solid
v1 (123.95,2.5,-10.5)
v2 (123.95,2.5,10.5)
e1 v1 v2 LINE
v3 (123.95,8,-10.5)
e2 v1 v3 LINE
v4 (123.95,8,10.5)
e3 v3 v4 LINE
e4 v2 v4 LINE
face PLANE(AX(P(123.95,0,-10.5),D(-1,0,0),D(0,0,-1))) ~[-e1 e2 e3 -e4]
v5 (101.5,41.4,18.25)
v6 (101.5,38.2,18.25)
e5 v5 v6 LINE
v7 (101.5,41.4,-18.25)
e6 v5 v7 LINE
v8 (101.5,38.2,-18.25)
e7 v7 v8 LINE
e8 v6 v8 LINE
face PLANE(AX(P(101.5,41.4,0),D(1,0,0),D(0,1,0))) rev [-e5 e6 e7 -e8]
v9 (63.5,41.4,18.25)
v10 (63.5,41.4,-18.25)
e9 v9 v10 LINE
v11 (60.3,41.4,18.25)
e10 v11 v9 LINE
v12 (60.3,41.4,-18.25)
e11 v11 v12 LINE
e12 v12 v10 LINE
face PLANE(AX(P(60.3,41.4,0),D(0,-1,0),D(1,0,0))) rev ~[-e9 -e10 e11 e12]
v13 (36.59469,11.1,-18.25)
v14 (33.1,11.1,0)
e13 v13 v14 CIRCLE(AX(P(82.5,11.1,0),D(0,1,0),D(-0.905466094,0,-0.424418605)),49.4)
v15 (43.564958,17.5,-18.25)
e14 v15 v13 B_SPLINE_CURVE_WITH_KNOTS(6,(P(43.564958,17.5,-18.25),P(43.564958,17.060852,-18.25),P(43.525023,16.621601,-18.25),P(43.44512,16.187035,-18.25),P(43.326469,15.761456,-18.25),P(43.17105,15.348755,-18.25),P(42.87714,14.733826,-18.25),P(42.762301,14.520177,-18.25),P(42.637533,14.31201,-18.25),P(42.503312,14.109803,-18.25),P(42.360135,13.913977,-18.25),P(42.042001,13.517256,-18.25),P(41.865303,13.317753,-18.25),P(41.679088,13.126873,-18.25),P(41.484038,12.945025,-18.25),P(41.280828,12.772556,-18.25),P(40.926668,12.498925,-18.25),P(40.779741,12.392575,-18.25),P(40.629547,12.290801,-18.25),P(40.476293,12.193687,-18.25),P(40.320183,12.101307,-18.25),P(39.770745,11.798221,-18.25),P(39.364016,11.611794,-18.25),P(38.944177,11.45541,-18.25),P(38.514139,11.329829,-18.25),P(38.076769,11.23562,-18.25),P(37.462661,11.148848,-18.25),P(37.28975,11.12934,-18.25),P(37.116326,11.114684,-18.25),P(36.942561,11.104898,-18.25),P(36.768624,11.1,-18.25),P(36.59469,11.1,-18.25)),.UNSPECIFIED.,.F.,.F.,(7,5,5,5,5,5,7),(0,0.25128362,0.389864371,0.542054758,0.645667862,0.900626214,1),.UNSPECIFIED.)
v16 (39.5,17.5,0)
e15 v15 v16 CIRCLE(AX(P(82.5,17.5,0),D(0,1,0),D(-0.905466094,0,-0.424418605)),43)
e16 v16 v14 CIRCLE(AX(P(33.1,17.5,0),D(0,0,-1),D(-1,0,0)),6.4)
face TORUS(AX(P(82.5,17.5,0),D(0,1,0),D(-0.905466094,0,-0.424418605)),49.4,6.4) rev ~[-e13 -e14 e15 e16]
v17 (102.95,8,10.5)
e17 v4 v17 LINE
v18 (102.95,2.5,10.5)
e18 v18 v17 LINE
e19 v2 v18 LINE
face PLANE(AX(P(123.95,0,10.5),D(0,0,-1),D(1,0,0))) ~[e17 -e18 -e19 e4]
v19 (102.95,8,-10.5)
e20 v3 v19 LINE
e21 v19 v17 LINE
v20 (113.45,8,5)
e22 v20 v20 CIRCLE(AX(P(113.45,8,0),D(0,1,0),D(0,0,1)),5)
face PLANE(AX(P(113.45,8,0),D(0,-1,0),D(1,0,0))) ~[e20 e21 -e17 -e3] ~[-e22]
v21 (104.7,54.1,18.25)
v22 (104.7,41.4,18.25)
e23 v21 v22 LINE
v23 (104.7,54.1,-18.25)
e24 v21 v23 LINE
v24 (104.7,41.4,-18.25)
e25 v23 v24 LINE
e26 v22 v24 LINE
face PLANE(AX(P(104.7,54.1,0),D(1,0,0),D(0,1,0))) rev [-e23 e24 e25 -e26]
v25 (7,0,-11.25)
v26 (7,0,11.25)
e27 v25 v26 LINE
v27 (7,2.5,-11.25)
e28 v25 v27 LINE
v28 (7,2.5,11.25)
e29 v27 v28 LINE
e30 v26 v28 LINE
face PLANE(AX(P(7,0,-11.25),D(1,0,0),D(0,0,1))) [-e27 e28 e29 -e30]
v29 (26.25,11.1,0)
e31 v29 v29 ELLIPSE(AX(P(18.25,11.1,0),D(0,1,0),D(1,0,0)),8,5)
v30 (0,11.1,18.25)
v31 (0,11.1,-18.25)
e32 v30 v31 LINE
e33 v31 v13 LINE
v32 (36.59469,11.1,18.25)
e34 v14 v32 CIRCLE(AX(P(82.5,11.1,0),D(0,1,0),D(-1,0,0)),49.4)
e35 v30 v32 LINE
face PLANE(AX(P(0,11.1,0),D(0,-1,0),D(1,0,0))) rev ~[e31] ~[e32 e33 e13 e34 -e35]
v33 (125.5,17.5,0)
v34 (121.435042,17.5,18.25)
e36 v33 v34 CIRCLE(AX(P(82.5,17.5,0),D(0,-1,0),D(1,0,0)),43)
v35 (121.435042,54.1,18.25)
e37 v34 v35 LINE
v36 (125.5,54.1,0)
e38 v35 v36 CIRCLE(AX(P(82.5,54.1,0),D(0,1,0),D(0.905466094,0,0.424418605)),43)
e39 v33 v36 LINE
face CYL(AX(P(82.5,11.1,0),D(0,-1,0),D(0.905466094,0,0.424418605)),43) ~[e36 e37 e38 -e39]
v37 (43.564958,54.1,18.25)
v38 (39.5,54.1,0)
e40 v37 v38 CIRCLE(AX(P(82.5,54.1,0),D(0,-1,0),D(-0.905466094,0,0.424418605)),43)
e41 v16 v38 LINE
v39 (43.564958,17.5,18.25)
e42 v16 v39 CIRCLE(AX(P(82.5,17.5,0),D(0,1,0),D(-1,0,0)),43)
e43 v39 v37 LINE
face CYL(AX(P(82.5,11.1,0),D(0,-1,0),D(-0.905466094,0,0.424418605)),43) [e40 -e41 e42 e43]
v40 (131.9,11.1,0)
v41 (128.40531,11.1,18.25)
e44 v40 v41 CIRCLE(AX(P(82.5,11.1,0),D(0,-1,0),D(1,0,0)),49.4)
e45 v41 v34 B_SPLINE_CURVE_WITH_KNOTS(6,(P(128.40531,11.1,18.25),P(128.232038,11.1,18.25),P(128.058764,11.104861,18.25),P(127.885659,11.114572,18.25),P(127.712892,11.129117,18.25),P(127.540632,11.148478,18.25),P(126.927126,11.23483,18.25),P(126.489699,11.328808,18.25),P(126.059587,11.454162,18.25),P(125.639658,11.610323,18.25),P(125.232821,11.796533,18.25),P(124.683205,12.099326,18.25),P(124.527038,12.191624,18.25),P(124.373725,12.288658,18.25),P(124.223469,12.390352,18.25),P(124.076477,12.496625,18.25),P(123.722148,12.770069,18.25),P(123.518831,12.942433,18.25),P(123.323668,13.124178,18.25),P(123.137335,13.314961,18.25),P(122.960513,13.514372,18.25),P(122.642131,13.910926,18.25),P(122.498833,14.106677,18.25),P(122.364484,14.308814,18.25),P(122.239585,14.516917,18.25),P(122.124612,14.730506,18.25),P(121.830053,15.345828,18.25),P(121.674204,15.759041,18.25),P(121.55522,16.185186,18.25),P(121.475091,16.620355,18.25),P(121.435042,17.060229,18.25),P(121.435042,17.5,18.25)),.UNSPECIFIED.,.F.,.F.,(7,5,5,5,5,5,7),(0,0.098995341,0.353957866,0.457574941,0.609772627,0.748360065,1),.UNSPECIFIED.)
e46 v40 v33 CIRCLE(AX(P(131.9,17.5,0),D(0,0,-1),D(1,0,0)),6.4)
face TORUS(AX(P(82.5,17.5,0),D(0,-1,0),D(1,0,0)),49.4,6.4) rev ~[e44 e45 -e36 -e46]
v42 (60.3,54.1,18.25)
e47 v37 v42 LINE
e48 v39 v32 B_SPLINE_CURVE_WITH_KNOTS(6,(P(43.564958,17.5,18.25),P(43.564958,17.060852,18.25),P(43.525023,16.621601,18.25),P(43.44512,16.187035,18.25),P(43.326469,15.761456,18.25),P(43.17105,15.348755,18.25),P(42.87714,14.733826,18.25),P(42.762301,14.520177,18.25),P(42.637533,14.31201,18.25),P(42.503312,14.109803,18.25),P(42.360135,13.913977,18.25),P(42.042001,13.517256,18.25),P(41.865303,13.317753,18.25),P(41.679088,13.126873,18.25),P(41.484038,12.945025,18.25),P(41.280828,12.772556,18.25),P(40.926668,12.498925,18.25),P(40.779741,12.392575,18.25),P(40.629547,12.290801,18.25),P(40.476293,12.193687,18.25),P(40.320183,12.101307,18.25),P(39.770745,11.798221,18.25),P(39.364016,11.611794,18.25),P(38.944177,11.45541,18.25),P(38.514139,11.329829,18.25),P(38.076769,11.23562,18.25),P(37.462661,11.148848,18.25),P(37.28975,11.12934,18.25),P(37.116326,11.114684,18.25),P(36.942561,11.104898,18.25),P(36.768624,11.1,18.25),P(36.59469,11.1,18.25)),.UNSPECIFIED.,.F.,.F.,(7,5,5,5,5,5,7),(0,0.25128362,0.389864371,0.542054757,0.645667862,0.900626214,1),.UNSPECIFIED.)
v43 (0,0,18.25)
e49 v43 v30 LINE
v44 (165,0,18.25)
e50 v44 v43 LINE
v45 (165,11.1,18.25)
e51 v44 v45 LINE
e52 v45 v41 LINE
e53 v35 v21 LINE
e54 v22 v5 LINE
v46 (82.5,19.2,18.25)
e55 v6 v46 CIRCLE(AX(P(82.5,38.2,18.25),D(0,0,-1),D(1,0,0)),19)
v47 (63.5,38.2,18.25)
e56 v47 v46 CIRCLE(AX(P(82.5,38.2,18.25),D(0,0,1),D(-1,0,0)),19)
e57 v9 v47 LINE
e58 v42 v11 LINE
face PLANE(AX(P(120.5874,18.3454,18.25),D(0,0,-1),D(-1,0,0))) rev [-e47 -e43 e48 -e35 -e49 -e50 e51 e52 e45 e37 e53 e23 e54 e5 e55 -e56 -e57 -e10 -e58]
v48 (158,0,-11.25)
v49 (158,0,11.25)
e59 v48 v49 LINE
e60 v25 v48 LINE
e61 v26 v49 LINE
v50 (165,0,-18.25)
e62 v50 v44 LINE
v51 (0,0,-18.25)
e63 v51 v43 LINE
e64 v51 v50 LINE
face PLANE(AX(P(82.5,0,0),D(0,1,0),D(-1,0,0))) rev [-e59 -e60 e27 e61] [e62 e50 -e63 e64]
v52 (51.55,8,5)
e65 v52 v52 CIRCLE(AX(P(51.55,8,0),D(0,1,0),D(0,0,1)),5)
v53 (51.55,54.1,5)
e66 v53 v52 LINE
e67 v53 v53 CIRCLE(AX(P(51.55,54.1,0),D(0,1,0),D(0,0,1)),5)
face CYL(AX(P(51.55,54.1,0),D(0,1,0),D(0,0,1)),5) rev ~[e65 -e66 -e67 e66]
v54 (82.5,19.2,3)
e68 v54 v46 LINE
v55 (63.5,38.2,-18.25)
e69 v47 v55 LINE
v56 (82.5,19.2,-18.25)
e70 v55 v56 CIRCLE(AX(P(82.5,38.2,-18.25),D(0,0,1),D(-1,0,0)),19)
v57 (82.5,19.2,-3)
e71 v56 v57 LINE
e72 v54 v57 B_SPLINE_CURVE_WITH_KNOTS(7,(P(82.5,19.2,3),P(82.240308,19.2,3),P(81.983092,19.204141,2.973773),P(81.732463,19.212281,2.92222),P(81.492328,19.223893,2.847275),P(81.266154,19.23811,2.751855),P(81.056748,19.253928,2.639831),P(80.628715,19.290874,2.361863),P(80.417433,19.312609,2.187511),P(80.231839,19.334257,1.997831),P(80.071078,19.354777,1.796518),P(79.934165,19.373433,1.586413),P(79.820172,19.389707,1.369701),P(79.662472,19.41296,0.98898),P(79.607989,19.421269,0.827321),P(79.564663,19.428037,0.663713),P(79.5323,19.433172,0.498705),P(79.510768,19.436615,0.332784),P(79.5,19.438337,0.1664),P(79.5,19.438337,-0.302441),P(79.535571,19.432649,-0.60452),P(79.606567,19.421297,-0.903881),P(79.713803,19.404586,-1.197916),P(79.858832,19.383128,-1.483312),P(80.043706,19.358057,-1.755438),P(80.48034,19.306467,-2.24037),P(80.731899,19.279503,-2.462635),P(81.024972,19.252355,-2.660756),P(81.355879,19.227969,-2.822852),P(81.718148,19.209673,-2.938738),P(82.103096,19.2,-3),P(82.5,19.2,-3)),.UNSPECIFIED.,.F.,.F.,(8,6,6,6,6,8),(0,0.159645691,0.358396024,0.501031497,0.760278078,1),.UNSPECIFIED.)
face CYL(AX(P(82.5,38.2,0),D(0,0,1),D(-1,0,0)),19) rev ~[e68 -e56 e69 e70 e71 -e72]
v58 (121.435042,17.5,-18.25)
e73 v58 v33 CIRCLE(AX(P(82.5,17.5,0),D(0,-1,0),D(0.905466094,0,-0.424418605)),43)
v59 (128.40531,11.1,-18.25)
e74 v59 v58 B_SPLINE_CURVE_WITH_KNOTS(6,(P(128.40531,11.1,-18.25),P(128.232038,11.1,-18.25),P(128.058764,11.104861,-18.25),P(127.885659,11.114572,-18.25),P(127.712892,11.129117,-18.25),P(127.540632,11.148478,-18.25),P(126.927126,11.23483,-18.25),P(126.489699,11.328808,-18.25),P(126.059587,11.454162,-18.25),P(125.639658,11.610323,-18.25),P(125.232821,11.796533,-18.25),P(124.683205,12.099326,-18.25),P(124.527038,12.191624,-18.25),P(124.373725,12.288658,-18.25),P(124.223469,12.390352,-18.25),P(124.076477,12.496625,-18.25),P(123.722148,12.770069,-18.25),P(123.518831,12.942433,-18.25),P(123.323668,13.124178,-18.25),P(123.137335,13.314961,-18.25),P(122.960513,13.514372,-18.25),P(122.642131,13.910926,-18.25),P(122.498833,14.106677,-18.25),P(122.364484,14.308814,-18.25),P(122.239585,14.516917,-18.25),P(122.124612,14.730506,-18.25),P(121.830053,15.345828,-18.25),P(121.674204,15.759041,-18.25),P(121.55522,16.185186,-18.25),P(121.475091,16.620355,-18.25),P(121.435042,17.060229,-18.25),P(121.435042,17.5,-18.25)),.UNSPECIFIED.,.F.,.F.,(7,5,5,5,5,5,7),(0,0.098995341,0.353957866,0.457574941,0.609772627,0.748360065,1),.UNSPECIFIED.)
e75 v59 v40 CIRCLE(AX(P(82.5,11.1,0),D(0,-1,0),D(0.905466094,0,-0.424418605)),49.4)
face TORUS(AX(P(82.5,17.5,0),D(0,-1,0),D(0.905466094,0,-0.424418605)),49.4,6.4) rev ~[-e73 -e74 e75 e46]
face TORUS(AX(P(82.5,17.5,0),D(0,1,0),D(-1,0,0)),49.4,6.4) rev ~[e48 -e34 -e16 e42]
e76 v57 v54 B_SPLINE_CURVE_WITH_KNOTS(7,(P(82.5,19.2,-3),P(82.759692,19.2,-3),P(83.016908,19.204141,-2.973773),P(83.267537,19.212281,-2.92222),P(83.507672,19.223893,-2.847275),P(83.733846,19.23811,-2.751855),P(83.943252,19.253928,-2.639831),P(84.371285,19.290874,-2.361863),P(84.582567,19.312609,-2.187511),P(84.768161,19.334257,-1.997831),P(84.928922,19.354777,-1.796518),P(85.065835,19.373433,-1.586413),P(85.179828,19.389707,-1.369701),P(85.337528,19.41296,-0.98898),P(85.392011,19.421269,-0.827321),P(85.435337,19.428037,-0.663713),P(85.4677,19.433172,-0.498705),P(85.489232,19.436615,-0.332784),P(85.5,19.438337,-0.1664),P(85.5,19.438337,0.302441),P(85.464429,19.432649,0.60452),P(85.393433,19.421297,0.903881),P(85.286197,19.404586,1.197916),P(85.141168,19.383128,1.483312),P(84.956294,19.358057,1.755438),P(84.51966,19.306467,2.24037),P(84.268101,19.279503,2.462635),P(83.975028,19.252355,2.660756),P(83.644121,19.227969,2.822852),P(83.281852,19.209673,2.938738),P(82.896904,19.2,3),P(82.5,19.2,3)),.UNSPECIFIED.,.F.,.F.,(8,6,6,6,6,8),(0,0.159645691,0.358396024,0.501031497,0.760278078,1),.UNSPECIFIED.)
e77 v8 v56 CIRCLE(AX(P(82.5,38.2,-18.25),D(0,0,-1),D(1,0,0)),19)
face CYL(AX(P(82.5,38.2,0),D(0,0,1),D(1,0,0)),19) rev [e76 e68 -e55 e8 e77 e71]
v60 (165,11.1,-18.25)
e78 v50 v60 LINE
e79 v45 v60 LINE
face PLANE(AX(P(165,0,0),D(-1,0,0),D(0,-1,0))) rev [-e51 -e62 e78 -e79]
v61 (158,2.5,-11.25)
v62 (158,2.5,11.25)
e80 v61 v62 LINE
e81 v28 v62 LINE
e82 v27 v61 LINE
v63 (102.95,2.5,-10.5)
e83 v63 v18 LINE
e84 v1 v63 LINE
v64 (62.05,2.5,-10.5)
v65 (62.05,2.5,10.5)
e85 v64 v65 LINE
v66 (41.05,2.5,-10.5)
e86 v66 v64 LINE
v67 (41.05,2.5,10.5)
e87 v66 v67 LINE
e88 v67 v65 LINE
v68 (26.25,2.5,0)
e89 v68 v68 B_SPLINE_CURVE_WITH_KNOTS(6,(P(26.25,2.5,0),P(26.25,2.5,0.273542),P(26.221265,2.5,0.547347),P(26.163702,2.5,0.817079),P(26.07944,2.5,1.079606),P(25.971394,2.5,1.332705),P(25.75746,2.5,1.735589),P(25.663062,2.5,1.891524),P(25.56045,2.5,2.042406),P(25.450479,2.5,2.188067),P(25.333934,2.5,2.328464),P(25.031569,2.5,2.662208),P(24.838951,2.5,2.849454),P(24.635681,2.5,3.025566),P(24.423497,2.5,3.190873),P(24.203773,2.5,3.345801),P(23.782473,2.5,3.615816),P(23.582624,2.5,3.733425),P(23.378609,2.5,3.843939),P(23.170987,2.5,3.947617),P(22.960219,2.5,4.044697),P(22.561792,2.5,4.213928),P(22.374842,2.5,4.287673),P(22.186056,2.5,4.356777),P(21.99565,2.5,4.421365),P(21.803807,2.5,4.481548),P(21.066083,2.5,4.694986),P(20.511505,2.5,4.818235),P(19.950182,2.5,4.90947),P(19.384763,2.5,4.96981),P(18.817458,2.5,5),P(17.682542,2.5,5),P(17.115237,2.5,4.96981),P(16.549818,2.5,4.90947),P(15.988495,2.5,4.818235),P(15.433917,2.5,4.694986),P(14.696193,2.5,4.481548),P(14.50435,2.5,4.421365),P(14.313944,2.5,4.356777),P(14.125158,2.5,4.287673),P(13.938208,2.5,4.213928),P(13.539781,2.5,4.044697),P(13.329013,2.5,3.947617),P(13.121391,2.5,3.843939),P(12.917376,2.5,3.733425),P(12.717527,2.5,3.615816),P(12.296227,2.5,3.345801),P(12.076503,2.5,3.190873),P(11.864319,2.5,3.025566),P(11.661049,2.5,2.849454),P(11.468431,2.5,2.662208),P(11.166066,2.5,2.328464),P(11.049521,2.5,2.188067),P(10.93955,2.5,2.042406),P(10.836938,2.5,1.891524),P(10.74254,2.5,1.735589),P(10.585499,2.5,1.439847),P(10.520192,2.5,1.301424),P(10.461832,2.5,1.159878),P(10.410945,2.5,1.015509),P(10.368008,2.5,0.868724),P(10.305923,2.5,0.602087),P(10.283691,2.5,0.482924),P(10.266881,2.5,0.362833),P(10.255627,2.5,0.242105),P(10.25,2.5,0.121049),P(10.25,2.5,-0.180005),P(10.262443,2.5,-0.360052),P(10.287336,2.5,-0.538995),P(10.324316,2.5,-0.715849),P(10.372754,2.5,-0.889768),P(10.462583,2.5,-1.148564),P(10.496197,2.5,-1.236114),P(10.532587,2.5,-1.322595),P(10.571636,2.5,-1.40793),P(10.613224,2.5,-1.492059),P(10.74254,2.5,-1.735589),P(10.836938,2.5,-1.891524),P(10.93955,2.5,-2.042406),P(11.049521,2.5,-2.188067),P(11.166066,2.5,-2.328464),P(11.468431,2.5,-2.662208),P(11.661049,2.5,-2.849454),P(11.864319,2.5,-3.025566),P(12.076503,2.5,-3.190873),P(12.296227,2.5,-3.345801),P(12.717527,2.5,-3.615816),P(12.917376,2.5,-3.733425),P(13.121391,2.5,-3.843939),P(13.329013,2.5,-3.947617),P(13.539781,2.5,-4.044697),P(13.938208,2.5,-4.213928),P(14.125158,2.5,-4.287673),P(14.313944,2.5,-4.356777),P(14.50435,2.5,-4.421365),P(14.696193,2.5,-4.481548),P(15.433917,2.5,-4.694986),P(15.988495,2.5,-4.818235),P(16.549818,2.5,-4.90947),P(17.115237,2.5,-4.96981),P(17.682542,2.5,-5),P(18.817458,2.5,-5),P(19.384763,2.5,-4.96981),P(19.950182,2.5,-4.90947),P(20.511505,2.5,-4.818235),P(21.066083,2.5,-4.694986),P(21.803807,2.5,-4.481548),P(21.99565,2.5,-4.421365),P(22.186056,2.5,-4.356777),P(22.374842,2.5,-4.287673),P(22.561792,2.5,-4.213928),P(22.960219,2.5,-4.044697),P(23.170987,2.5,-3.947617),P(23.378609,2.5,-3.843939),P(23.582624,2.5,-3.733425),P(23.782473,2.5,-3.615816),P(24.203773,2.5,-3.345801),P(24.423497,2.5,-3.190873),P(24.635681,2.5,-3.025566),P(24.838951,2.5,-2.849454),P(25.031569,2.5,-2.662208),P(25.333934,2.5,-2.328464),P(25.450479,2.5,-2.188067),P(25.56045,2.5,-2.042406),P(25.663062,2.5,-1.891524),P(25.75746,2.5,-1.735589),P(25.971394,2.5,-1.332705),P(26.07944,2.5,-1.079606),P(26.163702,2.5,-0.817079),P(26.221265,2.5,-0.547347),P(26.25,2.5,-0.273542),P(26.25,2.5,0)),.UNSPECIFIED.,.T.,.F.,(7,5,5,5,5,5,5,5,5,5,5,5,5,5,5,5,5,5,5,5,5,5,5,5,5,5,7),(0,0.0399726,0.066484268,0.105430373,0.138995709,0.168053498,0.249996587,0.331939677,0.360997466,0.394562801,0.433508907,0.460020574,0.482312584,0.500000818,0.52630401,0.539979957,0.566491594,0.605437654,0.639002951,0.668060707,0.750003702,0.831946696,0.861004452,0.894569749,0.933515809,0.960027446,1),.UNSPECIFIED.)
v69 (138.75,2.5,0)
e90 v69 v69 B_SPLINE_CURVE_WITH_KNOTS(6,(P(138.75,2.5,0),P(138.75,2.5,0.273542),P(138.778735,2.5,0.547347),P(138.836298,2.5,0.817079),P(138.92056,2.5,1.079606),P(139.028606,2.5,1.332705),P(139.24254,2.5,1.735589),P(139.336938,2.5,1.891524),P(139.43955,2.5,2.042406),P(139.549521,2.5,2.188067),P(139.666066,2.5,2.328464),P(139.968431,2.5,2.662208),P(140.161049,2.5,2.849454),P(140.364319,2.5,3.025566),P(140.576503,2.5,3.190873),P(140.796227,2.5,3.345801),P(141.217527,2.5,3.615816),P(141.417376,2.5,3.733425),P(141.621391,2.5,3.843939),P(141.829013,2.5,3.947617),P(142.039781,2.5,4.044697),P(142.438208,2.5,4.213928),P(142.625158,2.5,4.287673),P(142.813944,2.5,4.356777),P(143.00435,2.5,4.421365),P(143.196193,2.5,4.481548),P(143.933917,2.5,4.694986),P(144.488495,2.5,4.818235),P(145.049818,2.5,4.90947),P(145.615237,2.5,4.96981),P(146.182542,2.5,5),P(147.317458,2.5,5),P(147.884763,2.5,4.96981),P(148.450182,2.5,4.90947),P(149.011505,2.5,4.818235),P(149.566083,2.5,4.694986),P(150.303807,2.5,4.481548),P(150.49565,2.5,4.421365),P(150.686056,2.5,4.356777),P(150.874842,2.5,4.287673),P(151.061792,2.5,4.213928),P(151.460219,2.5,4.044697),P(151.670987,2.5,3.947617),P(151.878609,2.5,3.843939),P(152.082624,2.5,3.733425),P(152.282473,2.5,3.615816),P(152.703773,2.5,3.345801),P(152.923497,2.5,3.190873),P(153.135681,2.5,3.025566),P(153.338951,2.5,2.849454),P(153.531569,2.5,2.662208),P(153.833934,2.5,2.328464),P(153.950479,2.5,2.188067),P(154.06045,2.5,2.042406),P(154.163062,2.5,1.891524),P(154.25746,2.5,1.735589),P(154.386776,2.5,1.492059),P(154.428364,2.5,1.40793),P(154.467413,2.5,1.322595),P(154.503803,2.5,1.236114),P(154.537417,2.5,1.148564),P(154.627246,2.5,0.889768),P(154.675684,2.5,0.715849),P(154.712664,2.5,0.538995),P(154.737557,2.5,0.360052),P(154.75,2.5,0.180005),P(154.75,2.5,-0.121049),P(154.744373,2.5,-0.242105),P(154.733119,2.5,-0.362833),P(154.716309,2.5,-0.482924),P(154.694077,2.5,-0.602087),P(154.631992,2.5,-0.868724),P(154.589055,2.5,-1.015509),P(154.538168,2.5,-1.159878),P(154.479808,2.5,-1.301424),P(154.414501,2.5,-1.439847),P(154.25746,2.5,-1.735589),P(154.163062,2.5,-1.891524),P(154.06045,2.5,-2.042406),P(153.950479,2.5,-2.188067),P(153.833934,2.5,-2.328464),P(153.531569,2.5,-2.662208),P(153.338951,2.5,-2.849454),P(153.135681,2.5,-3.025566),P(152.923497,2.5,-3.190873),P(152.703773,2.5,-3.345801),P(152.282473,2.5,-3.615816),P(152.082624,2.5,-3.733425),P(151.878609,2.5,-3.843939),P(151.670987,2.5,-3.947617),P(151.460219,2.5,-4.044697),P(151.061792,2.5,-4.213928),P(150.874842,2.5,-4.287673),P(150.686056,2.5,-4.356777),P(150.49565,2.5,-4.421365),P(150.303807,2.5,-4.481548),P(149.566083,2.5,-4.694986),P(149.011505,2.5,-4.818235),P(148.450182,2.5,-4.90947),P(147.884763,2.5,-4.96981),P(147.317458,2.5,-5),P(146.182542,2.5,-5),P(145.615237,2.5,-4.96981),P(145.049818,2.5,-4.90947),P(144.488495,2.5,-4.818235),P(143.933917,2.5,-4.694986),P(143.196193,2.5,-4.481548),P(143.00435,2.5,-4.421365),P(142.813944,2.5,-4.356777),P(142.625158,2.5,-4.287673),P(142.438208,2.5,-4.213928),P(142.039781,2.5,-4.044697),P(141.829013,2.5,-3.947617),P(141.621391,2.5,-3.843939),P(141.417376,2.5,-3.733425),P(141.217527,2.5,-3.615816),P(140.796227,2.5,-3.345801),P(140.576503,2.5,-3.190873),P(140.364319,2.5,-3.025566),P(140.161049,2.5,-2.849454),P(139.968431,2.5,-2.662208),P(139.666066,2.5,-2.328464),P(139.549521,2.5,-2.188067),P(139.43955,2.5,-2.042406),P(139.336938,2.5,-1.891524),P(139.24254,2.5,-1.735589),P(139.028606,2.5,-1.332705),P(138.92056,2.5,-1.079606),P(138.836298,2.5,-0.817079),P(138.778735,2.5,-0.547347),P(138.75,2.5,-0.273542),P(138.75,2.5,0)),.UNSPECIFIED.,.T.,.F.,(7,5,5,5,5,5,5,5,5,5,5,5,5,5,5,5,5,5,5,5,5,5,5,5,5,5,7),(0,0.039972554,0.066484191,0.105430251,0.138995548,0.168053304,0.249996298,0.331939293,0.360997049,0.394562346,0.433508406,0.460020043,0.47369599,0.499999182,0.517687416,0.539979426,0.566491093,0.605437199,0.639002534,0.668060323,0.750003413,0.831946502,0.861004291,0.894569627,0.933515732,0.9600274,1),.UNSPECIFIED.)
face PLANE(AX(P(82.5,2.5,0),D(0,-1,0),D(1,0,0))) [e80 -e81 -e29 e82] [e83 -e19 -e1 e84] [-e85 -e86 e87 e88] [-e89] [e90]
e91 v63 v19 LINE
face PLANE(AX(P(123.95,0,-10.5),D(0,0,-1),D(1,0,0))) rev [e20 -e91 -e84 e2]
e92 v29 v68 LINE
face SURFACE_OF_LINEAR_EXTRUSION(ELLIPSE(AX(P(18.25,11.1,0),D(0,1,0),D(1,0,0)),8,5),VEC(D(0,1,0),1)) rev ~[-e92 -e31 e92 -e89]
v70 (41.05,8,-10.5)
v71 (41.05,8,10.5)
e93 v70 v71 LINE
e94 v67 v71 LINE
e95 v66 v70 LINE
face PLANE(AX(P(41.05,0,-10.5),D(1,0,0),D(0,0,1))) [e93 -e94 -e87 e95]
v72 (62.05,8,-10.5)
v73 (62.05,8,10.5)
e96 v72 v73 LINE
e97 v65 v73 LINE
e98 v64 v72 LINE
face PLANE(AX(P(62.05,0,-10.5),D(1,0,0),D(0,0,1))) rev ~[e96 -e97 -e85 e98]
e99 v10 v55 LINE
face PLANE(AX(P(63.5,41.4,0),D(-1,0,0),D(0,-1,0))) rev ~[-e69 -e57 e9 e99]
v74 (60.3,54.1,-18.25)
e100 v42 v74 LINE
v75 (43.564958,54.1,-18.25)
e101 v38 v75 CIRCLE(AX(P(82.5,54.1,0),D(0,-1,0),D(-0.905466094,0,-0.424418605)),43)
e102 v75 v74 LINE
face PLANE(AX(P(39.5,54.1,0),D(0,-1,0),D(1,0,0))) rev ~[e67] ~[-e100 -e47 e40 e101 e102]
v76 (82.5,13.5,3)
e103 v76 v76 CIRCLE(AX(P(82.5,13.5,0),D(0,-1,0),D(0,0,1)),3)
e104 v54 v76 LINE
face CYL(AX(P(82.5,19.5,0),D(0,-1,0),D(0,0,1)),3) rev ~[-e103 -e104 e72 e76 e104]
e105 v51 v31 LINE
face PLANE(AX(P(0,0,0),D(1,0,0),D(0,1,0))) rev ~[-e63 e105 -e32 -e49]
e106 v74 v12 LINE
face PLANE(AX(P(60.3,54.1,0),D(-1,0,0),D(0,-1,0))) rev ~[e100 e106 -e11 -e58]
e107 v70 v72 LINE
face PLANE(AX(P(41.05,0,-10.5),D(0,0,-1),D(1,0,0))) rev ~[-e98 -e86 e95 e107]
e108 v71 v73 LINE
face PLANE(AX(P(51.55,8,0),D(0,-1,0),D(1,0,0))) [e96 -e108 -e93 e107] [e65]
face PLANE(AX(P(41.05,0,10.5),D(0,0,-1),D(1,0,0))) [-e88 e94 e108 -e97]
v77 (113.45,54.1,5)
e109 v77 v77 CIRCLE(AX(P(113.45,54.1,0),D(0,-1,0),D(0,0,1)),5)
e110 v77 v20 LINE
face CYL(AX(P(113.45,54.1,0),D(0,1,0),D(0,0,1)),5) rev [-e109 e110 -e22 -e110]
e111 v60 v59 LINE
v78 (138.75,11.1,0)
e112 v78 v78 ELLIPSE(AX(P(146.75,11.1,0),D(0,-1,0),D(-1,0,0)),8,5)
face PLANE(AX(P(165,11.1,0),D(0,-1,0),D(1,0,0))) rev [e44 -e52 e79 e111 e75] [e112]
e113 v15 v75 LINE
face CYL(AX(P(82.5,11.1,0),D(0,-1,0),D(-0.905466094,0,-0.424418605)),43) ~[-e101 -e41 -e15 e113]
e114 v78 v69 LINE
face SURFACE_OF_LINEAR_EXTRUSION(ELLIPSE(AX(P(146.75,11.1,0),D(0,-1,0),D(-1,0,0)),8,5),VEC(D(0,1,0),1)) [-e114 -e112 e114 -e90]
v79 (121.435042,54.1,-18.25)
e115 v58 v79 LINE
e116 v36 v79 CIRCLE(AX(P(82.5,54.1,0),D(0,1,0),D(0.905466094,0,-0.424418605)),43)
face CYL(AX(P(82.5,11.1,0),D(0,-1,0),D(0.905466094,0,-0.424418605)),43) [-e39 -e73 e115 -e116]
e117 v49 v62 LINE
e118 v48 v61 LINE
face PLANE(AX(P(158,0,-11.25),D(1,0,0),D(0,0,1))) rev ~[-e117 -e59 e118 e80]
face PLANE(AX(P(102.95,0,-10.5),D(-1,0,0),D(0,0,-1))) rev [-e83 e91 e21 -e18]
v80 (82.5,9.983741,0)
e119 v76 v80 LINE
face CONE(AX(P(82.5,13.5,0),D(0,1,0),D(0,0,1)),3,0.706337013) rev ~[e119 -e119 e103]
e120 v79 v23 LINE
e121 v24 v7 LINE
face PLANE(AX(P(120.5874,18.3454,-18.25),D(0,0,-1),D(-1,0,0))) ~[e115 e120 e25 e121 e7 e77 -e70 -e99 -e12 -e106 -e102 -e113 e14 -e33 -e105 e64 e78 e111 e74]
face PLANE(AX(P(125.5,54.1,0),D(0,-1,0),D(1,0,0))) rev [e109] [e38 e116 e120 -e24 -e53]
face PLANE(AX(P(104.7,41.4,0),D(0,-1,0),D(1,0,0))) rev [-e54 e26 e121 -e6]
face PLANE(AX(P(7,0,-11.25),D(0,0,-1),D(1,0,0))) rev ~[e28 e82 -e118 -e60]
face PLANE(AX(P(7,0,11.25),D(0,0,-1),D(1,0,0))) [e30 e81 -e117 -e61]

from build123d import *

# Parameters (mm, degrees)
BOSS_EXTRUDE1_DEPTH = 18.25
CUT_EXTRUDE1_START  = -43
CUT_EXTRUDE1_DEPTH  = 48
SKETCH6_R           = 5
CUT_EXTRUDE3_DEPTH  = 54.1
SKETCH7_RX          = 8
SKETCH7_RY          = 5
CUT_EXTRUDE4_DEPTH  = 11.1
FILLET3_R           = 6.4
SKETCH10_W          = 151
SKETCH10_H          = 22.5
CUT_EXTRUDE7_DEPTH  = 2.5
SKETCH11_W          = 21
SKETCH11_H          = 21
CUT_EXTRUDE8_DEPTH  = 8


with BuildPart() as part:
    # Sketch2 → Boss-Extrude1 (new, symmetric)
    with BuildSketch(Plane.XY):
        with BuildLine():
            Line((0, 0), (0, 11.1))
            Line((0, 11.1), (39.5, 11.1))
            Line((39.5, 11.1), (39.5, 54.1))
            Line((39.5, 54.1), (60.3, 54.1))
            Line((60.3, 54.1), (60.3, 41.4))
            Line((60.3, 41.4), (63.5, 41.4))
            Line((63.5, 41.4), (63.5, 38.2))
            ThreePointArc((63.5, 38.2), (69.064971157, 24.764971157), (82.5, 19.2))
            Line((82.5, 19.2), (82.5, 0))
            Line((82.5, 0), (0, 0))
        make_face()
    extrude(amount=BOSS_EXTRUDE1_DEPTH, both=True)

    # Sketch3 → Cut-Extrude1 (cut)
    with BuildSketch(Plane(origin=(0, 54.1, 0), x_dir=(1, 0, 0), z_dir=(0, 1, 0)).offset(CUT_EXTRUDE1_START)):
        with BuildLine():
            Line((39.5, -18.25), (43.564957943, -18.25))
            ThreePointArc((43.564957943, -18.25), (40.528540599, -9.348614644), (39.5, 0))
            Line((39.5, 0), (39.5, -18.25))
        make_face()
    cut_extrude1 = extrude(amount=CUT_EXTRUDE1_DEPTH, mode=Mode.SUBTRACT)

    # Mirror2: Cut-Extrude1 across plane
    add(cut_extrude1.mirror(Plane.XY), mode=Mode.SUBTRACT)

    # Mirror3: part across plane


with BuildPart() as part_1:
    add(part.part)
    add(part.part.mirror(Plane(origin=(82.5, 19.2, 18.25), x_dir=(0, 0, 1), z_dir=(1, 0, 0))))

    # Sketch6 → Cut-Extrude3 (cut)
    with BuildSketch(Plane(origin=(0, 54.1, 0), x_dir=(1, 0, 0), z_dir=(0, 1, 0))):
        with Locations(Location((51.55, 0, 0), (0, 0, 270))):
            Circle(SKETCH6_R)
    cut_extrude3 = extrude(amount=-CUT_EXTRUDE3_DEPTH, mode=Mode.SUBTRACT)

    # Sketch7 → Cut-Extrude4 (cut)
    with BuildSketch(Plane(origin=(0, 11.1, 0), x_dir=(1, 0, 0), z_dir=(0, 1, 0))):
        with Locations((18.25, 0)):
            Ellipse(SKETCH7_RX, SKETCH7_RY)
    cut_extrude4 = extrude(amount=-CUT_EXTRUDE4_DEPTH, mode=Mode.SUBTRACT)

    # Mirror4: Cut-Extrude3, Cut-Extrude4 across plane
    add(cut_extrude3.mirror(Plane.ZY.offset(-82.5)), mode=Mode.SUBTRACT)
    add(cut_extrude4.mirror(Plane.ZY.offset(-82.5)), mode=Mode.SUBTRACT)

    # Fillet3
    fillet3_edges = [part_1.edges().sort_by_distance(p)[0] for p in [
        (39.5, 11.1, 0),
        (125.5, 11.1, 0),
    ]]
    fillet(fillet3_edges, radius=FILLET3_R)

    # Sketch10 → Cut-Extrude7 (cut)
    with BuildSketch(Plane.XZ):
        with Locations((82.5, 0)):
            Rectangle(SKETCH10_W, SKETCH10_H)
    extrude(amount=-CUT_EXTRUDE7_DEPTH, mode=Mode.SUBTRACT)

    # Sketch11 → Cut-Extrude8 (cut)
    with BuildSketch(Plane.XZ):
        with Locations((51.55, 0)):
            Rectangle(SKETCH11_W, SKETCH11_H)
    cut_extrude8 = extrude(amount=-CUT_EXTRUDE8_DEPTH, mode=Mode.SUBTRACT)

    # Mirror5: Cut-Extrude8 across plane
    add(cut_extrude8.mirror(Plane.ZY.offset(-82.5)), mode=Mode.SUBTRACT)

    # Sketch12 → Cut-Revolve1 (revolve, cut)
    with BuildSketch(Plane.ZY.offset(-82.5)):
        Polygon((0, 19.5), (3, 19.5), (3, 13.5), (0, 9.983740964), align=None)
    revolve(axis=Axis((82.5, 59.1, 0), (0, -1, 0)), mode=Mode.SUBTRACT)


solid = part_1.part
